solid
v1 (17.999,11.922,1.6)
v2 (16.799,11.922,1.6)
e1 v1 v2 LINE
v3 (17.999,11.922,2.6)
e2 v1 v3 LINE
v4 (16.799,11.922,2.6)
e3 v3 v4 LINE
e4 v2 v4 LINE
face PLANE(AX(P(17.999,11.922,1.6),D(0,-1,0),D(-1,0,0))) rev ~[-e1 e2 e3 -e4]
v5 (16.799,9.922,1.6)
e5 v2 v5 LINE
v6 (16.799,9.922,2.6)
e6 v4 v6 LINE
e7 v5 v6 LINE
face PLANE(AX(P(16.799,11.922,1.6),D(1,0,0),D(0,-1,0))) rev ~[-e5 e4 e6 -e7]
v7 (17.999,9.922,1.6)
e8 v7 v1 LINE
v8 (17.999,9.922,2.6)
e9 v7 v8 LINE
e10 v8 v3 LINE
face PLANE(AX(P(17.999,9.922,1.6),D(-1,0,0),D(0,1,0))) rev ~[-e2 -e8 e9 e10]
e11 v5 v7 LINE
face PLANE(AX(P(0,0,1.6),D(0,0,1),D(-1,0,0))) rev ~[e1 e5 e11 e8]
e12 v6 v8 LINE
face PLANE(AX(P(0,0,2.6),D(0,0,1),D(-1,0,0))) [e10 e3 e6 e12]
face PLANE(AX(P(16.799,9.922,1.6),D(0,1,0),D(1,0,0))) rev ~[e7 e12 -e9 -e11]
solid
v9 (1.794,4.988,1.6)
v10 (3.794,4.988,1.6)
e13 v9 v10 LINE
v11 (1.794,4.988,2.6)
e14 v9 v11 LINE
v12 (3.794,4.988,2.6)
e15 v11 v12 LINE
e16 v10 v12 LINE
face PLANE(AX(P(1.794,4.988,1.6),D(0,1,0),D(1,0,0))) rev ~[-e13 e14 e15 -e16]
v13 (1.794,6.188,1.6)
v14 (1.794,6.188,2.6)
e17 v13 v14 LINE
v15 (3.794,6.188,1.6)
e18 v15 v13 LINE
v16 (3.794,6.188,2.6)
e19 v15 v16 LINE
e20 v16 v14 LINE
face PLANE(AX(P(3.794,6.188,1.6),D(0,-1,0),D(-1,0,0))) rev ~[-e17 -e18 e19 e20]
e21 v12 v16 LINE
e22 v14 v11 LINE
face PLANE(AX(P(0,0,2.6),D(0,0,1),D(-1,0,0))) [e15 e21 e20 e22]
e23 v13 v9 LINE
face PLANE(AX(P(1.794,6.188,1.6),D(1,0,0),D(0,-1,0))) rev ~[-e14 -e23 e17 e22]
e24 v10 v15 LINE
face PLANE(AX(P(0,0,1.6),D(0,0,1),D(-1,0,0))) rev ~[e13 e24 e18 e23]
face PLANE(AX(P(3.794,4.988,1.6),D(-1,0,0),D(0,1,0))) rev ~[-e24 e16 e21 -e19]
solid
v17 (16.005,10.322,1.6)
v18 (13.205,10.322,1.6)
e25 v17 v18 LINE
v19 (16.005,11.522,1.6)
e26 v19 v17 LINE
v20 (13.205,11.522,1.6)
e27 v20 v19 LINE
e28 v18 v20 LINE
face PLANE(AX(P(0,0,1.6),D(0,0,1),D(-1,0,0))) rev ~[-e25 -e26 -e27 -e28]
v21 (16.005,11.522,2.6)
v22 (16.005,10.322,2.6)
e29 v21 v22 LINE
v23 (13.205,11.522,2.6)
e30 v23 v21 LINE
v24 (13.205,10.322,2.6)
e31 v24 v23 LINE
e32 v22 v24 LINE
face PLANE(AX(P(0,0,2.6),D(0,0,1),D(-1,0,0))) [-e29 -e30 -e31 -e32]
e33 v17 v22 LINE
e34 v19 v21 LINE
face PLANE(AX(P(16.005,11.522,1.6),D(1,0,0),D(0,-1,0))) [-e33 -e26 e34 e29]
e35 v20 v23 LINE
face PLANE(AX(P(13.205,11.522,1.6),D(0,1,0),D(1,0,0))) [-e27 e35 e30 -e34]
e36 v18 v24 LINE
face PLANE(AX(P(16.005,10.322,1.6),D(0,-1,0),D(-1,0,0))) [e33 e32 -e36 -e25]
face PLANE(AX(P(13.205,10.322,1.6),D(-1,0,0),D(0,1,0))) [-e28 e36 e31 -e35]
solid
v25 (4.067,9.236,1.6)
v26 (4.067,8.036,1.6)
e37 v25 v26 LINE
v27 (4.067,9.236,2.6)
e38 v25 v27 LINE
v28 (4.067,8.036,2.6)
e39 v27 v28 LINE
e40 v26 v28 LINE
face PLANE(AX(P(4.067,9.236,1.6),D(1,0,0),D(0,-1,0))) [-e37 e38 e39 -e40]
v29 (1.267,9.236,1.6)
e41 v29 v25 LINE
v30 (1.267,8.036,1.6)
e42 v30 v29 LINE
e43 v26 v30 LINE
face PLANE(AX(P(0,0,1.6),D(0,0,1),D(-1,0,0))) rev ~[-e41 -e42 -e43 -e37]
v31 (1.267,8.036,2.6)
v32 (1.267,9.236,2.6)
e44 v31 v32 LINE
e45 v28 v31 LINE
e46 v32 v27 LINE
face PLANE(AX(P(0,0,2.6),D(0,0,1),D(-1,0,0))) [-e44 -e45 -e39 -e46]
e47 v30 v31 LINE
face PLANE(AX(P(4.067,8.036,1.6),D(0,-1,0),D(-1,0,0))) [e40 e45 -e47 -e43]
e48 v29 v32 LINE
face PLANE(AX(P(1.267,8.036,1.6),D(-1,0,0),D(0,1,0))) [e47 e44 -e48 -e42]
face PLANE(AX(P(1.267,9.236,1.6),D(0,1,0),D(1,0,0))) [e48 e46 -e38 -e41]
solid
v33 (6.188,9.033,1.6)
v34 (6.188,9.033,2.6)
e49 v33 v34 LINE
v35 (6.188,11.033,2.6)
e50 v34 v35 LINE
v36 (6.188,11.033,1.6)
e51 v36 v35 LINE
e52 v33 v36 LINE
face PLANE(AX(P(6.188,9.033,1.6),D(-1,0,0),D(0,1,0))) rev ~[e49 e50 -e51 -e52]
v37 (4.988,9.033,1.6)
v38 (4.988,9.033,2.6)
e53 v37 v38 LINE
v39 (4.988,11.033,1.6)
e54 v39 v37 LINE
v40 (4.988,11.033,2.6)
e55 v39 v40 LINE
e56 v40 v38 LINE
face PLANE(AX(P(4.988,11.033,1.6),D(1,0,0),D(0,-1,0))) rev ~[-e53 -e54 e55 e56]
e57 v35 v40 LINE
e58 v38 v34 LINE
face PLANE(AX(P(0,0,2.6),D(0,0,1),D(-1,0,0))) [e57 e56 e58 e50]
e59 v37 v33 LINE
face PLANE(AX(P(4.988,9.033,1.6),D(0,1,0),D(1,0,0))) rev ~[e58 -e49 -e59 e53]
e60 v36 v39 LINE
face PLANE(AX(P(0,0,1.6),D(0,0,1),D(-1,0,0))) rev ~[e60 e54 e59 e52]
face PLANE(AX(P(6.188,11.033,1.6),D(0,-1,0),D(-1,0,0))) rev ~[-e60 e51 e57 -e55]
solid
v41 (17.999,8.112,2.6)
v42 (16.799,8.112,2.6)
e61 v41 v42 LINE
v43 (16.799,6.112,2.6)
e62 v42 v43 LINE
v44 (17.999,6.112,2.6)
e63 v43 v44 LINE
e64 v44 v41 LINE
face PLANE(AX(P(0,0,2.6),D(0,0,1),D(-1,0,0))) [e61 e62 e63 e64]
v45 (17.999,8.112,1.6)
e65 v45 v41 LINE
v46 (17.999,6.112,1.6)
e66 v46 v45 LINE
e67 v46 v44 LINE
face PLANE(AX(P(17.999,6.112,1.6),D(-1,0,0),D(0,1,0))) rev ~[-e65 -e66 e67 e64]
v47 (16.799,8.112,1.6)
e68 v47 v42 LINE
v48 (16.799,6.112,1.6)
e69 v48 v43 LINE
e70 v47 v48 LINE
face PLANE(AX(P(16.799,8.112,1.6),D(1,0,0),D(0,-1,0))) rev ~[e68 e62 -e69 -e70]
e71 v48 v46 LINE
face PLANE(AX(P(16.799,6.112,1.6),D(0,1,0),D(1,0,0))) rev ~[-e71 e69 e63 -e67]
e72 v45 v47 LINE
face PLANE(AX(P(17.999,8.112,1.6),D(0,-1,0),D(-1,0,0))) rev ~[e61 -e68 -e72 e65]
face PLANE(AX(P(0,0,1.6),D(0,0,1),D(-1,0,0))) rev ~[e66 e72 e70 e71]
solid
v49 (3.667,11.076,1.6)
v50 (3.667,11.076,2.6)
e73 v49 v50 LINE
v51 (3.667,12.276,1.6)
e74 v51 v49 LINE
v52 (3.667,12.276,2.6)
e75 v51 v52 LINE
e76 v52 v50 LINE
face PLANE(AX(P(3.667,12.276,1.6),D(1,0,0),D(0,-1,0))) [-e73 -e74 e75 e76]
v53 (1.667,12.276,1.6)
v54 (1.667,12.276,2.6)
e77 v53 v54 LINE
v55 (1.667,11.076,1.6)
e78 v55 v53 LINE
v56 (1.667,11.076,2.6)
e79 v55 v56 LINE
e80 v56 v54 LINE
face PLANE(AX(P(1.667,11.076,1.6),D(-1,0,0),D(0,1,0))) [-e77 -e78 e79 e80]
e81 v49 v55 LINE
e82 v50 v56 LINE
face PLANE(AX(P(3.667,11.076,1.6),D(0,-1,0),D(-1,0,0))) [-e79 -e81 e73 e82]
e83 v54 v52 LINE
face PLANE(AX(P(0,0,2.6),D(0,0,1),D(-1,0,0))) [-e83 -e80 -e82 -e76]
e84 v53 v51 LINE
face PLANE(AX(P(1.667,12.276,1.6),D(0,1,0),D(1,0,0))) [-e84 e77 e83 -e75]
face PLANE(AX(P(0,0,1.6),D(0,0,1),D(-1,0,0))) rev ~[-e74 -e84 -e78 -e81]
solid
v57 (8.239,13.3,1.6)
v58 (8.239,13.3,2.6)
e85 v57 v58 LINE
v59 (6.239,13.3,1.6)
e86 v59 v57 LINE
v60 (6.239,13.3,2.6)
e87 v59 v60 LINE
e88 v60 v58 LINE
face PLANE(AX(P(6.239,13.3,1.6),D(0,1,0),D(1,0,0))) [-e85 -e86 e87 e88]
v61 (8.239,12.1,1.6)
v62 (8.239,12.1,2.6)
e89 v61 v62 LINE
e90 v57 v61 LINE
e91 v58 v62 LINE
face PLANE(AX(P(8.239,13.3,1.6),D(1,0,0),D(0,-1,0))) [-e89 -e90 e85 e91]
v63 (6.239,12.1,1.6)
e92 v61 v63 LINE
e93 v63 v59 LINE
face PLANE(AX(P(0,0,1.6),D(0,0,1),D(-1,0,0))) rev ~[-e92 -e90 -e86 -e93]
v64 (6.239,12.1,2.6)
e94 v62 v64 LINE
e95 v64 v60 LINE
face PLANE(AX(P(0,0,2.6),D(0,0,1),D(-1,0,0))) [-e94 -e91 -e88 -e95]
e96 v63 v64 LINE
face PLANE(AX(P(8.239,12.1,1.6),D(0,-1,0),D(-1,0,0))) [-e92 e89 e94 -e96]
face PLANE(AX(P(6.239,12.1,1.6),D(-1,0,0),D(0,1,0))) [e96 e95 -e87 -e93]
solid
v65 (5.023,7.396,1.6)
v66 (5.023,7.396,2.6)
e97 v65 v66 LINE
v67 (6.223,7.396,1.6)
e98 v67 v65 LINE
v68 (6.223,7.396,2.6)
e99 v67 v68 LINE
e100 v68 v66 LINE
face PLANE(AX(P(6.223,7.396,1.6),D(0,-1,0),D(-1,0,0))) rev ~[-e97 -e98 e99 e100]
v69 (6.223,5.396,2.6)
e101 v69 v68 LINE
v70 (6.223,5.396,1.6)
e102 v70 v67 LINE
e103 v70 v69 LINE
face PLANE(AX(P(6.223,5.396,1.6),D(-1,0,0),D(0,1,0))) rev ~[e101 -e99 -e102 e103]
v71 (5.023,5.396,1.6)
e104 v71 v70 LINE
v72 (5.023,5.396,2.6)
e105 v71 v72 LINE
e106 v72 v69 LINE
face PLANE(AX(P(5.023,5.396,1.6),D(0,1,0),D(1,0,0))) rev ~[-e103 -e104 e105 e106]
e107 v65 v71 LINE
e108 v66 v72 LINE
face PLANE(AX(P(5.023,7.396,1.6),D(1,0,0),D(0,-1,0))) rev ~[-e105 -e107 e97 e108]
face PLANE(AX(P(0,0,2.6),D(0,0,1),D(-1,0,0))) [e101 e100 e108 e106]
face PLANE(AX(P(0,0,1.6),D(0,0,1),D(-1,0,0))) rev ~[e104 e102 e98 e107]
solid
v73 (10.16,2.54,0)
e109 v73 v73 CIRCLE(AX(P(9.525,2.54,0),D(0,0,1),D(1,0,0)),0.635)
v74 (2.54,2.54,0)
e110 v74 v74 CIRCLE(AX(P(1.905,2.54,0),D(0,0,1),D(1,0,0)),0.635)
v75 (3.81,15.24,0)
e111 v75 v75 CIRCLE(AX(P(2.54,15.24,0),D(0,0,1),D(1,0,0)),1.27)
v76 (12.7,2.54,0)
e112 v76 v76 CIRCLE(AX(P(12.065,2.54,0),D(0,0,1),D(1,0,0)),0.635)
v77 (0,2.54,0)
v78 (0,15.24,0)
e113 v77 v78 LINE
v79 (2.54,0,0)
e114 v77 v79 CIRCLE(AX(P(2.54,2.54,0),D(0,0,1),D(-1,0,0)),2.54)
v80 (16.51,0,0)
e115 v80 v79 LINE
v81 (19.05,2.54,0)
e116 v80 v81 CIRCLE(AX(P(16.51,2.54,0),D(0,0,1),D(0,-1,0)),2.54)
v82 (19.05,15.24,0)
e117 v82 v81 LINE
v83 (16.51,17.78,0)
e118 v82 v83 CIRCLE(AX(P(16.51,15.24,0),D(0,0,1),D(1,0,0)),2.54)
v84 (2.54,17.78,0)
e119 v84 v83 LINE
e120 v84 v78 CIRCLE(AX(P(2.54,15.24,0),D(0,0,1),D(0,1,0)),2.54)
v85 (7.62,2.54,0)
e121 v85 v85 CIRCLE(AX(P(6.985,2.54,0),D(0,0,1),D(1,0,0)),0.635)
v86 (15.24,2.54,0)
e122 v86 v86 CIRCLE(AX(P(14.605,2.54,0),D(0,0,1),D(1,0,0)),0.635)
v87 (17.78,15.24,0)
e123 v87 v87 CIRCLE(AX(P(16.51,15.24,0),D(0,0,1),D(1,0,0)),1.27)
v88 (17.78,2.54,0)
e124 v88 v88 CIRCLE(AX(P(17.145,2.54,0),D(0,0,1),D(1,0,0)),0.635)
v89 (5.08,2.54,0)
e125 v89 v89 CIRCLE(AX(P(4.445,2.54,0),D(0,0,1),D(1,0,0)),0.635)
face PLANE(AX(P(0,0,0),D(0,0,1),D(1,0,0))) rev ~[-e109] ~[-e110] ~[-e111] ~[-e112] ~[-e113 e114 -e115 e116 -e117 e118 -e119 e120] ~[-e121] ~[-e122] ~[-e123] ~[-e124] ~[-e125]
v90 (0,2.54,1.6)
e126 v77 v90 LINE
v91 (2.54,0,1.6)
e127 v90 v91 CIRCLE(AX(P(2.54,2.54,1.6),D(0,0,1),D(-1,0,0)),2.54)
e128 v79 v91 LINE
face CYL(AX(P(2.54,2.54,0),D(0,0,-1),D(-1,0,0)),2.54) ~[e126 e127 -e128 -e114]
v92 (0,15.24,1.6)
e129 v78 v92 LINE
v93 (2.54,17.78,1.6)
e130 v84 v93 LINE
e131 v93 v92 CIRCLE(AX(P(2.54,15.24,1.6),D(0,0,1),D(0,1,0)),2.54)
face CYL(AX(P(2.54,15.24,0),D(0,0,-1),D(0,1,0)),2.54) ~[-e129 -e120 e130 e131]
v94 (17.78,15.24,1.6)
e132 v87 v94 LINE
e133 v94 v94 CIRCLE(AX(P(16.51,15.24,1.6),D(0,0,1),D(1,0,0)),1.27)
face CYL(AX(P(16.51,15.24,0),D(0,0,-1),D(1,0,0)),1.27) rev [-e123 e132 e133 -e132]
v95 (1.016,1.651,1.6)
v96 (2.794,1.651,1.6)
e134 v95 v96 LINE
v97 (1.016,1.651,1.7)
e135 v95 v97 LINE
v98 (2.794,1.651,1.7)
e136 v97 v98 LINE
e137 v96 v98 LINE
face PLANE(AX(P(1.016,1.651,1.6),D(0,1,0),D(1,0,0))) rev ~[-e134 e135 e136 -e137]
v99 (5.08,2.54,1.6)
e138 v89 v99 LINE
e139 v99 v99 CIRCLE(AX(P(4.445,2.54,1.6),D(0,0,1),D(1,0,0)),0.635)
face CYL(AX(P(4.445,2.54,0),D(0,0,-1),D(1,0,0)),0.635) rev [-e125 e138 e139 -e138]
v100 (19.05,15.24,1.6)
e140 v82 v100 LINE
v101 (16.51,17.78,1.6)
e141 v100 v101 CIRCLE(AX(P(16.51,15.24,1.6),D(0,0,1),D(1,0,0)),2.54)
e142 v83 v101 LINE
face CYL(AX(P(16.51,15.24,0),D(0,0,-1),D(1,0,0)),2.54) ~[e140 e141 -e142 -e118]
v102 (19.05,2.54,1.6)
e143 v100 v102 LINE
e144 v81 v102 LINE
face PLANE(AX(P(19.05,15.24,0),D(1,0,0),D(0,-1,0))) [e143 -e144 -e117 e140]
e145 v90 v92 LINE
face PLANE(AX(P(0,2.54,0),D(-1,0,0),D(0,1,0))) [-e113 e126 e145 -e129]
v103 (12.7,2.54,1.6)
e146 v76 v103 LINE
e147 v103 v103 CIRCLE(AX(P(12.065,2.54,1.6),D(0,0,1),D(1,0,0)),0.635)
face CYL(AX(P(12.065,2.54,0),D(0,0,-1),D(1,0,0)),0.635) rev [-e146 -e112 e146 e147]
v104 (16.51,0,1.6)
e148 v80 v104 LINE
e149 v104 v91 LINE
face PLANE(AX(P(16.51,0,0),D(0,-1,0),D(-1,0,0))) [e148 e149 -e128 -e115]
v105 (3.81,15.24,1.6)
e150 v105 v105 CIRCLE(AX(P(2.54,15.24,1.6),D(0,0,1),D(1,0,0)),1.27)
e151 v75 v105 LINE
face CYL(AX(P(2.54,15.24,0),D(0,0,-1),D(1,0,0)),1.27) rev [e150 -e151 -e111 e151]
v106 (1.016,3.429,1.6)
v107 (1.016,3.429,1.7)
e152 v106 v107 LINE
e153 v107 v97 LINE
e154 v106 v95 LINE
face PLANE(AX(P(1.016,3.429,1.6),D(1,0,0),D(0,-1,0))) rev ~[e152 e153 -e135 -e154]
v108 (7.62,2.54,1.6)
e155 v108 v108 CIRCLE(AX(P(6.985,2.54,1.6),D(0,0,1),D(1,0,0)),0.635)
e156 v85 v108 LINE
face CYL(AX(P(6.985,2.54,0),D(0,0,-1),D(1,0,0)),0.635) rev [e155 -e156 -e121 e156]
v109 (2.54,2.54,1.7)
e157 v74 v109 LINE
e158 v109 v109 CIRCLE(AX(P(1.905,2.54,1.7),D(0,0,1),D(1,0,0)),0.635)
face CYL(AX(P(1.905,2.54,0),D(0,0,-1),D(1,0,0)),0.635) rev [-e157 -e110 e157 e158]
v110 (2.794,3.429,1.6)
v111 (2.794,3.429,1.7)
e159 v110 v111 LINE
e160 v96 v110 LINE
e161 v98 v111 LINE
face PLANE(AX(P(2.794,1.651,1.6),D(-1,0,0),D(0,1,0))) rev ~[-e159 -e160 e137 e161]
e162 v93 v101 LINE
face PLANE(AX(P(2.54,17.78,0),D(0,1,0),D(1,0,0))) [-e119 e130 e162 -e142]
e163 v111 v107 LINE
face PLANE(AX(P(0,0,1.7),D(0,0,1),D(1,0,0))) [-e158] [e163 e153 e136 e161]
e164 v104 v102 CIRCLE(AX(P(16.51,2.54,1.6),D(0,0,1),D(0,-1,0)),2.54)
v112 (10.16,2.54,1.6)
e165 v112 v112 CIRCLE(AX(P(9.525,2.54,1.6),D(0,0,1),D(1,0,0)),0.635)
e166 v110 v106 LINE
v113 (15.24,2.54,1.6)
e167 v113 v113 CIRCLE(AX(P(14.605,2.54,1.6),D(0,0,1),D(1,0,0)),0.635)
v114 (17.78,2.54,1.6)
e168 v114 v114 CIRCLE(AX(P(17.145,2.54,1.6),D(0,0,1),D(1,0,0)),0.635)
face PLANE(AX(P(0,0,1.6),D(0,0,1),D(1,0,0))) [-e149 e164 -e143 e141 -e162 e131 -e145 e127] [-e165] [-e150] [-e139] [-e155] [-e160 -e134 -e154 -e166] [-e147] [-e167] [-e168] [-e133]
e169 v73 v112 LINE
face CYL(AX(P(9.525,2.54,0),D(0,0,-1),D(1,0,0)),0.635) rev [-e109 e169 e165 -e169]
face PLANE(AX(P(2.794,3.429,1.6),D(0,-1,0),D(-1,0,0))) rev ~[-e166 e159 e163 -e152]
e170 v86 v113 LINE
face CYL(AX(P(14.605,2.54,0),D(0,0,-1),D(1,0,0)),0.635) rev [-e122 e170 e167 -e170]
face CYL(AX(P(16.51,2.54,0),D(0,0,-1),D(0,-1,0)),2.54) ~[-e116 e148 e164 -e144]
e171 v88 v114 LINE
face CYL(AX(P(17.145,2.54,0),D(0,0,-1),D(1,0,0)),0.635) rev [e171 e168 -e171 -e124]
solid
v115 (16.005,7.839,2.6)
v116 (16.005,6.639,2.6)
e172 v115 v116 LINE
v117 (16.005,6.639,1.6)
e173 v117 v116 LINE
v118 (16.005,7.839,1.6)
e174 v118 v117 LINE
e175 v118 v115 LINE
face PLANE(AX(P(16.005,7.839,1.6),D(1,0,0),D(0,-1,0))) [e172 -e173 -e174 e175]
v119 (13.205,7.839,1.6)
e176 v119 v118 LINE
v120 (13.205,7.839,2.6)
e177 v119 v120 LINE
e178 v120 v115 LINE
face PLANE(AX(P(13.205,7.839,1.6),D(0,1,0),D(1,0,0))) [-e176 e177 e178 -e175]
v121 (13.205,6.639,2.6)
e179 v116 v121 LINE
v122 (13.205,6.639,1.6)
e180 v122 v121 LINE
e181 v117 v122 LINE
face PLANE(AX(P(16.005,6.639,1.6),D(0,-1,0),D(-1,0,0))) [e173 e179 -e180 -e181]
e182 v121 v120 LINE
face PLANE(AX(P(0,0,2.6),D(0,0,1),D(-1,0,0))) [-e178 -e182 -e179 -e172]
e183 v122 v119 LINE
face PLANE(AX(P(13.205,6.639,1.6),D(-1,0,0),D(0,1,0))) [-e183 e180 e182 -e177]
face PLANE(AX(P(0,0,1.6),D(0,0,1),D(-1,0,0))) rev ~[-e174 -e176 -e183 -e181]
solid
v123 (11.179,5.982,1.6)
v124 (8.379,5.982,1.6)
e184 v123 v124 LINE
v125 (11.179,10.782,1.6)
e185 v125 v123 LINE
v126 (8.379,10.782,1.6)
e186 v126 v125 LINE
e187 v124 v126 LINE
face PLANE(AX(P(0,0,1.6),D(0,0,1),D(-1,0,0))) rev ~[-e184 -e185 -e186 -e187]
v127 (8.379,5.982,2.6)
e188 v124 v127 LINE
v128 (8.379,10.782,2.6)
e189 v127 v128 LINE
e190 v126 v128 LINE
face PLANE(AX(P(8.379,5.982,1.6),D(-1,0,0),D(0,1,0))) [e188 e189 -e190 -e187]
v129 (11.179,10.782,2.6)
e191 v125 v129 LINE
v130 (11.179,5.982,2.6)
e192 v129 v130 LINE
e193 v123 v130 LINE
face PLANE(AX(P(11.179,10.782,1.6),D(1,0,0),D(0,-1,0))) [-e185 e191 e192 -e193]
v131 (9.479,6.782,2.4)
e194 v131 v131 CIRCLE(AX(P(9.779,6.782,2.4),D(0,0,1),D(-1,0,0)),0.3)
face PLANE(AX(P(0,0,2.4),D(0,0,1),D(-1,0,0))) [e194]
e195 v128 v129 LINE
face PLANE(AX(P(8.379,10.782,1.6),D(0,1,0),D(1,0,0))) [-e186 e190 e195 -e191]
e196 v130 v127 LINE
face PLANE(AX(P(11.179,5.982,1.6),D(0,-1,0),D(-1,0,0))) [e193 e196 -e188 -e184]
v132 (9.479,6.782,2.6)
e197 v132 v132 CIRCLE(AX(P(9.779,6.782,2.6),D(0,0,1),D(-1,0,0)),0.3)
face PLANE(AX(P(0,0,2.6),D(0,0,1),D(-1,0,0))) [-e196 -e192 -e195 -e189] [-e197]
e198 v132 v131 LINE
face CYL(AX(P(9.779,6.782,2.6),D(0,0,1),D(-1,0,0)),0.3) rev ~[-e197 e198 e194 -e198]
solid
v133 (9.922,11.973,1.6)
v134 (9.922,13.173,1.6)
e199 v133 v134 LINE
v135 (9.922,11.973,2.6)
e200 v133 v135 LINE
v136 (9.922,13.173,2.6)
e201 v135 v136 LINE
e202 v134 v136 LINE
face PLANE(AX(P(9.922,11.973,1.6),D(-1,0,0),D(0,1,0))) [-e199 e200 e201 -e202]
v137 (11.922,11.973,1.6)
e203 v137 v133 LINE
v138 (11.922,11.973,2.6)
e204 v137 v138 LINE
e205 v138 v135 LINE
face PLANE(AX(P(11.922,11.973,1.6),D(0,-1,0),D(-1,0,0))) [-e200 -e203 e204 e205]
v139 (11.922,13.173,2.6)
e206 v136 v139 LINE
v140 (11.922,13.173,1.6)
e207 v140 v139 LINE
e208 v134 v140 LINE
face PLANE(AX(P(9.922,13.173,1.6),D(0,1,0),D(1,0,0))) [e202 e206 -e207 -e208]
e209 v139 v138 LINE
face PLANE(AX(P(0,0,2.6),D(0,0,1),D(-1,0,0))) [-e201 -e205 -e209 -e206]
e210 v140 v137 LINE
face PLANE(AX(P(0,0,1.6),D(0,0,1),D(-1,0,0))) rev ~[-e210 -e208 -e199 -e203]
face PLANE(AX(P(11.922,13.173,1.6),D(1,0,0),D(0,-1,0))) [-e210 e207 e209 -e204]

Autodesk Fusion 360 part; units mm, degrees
sketch "MPL3115A2_v0.2" plane through (0, 0, 0) normal (0, 0, 1) x (1, 0, 0)
  arc A0 (16.51, 0) -> (19.05, 2.54) centre (16.51, 2.54) ccw
  arc A1 (2.54, 17.78) -> (0, 15.24) centre (2.54, 15.24) ccw
  line L0 (19.05, 15.24) -> (19.05, 2.54)
  arc A2 (0, 2.54) -> (2.54, 0) centre (2.54, 2.54) ccw
  arc A3 (19.05, 15.24) -> (16.51, 17.78) centre (16.51, 15.24) ccw
  line L1 (2.54, 17.78) -> (16.51, 17.78)
  line L2 (0, 2.54) -> (0, 15.24)
  line L3 (16.51, 0) -> (2.54, 0)
  line L4 (1.016, 3.429) -> (1.016, 1.651)
  line L5 (1.016, 1.651) -> (2.794, 1.651)
  line L6 (2.794, 1.651) -> (2.794, 3.429)
  line L7 (1.016, 3.429) -> (1.016, 1.651)
  line L8 (1.016, 1.651) -> (2.794, 1.651)
  line L9 (2.794, 3.429) -> (1.016, 3.429)
  line L10 (2.794, 1.651) -> (2.794, 3.429)
  line L11 (2.794, 3.429) -> (1.016, 3.429)
  circle A4 centre (1.905, 2.54) radius 0.635
  circle A5 centre (4.445, 2.54) radius 0.635
  circle A6 centre (6.985, 2.54) radius 0.635
  circle A7 centre (9.525, 2.54) radius 0.635
  circle A8 centre (12.065, 2.54) radius 0.635
  circle A9 centre (14.605, 2.54) radius 0.635
  circle A10 centre (17.145, 2.54) radius 0.635
  circle A11 centre (2.54, 15.24) radius 1.27
  circle A12 centre (16.51, 15.24) radius 1.27
  dimension "d2" = 1.27
  dimension "d5" = 2.54
  dimension "d6" = 0
  dimension "d7" = 2.54
  dimension "d8" = 2.54
extrude "Extrude1" add sketch "MPL3115A2_v0.2" along normal blind 1.6 contours A0 A1 L0 A2 A3 L1 L2 L3 | L4 L5 L6 L7 L8 L9 L10 L11 makes body 1
extrude "Extrude2" add sketch "MPL3115A2_v0.2" along normal blind 0.1 from surface at 1.6 contours L4 L5 L6 L7 L8 L9 L10 L11 bodies 1
sketch "Sketch2" plane through (0, 0, 1.6) normal (0, 0, 1) x (-1, 0, 0)
  line L0 (-2.794, -1.651) -> (-1.016, -1.651)
  line L1 (-1.016, -1.651) -> (-1.016, -3.429)
  line L2 (-1.016, -3.429) -> (-2.794, -3.429)
  line L3 (-2.794, -3.429) -> (-2.794, -1.651)
  circle A0 centre (-17.145, -2.54) radius 0.635
  circle A1 centre (-16.51, -15.24) radius 1.27
  circle A2 centre (-9.525, -2.54) radius 0.635
  circle A3 centre (-12.065, -2.54) radius 0.635
  circle A4 centre (-2.54, -15.24) radius 1.27
  circle A5 centre (-4.445, -2.54) radius 0.635
  circle A6 centre (-14.605, -2.54) radius 0.635
  circle A7 centre (-6.985, -2.54) radius 0.635
  arc A8 (-19.05, -15.24) -> (-16.51, -17.78) centre (-16.51, -15.24) ccw
  line L4 (-16.51, -17.78) -> (-2.54, -17.78)
  arc A9 (-2.54, -17.78) -> (0, -15.24) centre (-2.54, -15.24) ccw
  line L5 (0, -15.24) -> (0, -2.54)
  arc A10 (0, -2.54) -> (-2.54, 0) centre (-2.54, -2.54) ccw
  line L6 (-2.54, 0) -> (-16.51, 0)
  arc A11 (-16.51, 0) -> (-19.05, -2.54) centre (-16.51, -2.54) ccw
  line L7 (-19.05, -2.54) -> (-19.05, -15.24)
  line L8 (-11.179, -5.982) -> (-8.379, -5.982)
  line L9 (-8.379, -5.982) -> (-8.379, -10.782)
  line L10 (-8.379, -10.782) -> (-11.179, -10.782)
  line L11 (-11.179, -10.782) -> (-11.179, -5.982)
  line L12 (-11.179, -5.982) -> (-8.379, -10.782) construction
  line L13 (-8.379, -5.982) -> (-11.179, -10.782) construction
  line L14 (-4.067, -8.036) -> (-1.267, -8.036)
  line L15 (-1.267, -8.036) -> (-1.267, -9.236)
  line L16 (-1.267, -9.236) -> (-4.067, -9.236)
  line L17 (-4.067, -9.236) -> (-4.067, -8.036)
  line L18 (-4.067, -8.036) -> (-1.267, -9.236) construction
  line L19 (-1.267, -8.036) -> (-4.067, -9.236) construction
  line L20 (-1.794, -4.988) -> (-3.794, -4.988)
  line L21 (-3.794, -4.988) -> (-3.794, -6.188)
  line L22 (-3.794, -6.188) -> (-1.794, -6.188)
  line L23 (-1.794, -6.188) -> (-1.794, -4.988)
  line L24 (-1.794, -4.988) -> (-3.794, -6.188) construction
  line L25 (-3.794, -4.988) -> (-1.794, -6.188) construction
  line L26 (-3.667, -11.076) -> (-1.667, -11.076)
  line L27 (-1.667, -11.076) -> (-1.667, -12.276)
  line L28 (-1.667, -12.276) -> (-3.667, -12.276)
  line L29 (-3.667, -12.276) -> (-3.667, -11.076)
  line L30 (-3.667, -11.076) -> (-1.667, -12.276) construction
  line L31 (-1.667, -11.076) -> (-3.667, -12.276) construction
  line L32 (-8.239, -12.1) -> (-6.239, -12.1)
  line L33 (-6.239, -12.1) -> (-6.239, -13.3)
  line L34 (-6.239, -13.3) -> (-8.239, -13.3)
  line L35 (-8.239, -13.3) -> (-8.239, -12.1)
  line L36 (-8.239, -12.1) -> (-6.239, -13.3) construction
  line L37 (-6.239, -12.1) -> (-8.239, -13.3) construction
  line L38 (-11.922, -11.973) -> (-9.922, -11.973)
  line L39 (-9.922, -11.973) -> (-9.922, -13.173)
  line L40 (-9.922, -13.173) -> (-11.922, -13.173)
  line L41 (-11.922, -13.173) -> (-11.922, -11.973)
  line L42 (-11.922, -11.973) -> (-9.922, -13.173) construction
  line L43 (-9.922, -11.973) -> (-11.922, -13.173) construction
  line L44 (-16.005, -10.322) -> (-13.205, -10.322)
  line L45 (-13.205, -10.322) -> (-13.205, -11.522)
  line L46 (-13.205, -11.522) -> (-16.005, -11.522)
  line L47 (-16.005, -11.522) -> (-16.005, -10.322)
  line L48 (-16.005, -10.322) -> (-13.205, -11.522) construction
  line L49 (-13.205, -10.322) -> (-16.005, -11.522) construction
  line L50 (-16.005, -6.639) -> (-13.205, -6.639)
  line L51 (-13.205, -6.639) -> (-13.205, -7.839)
  line L52 (-13.205, -7.839) -> (-16.005, -7.839)
  line L53 (-16.005, -7.839) -> (-16.005, -6.639)
  line L54 (-16.005, -6.639) -> (-13.205, -7.839) construction
  line L55 (-13.205, -6.639) -> (-16.005, -7.839) construction
  line L56 (-16.799, -9.922) -> (-17.999, -9.922)
  line L57 (-17.999, -9.922) -> (-17.999, -11.922)
  line L58 (-17.999, -11.922) -> (-16.799, -11.922)
  line L59 (-16.799, -11.922) -> (-16.799, -9.922)
  line L60 (-16.799, -9.922) -> (-17.999, -11.922) construction
  line L61 (-17.999, -9.922) -> (-16.799, -11.922) construction
  line L62 (-16.799, -6.112) -> (-17.999, -6.112)
  line L63 (-17.999, -6.112) -> (-17.999, -8.112)
  line L64 (-17.999, -8.112) -> (-16.799, -8.112)
  line L65 (-16.799, -8.112) -> (-16.799, -6.112)
  line L66 (-16.799, -6.112) -> (-17.999, -8.112) construction
  line L67 (-17.999, -6.112) -> (-16.799, -8.112) construction
  line L68 (-4.988, -9.033) -> (-6.188, -9.033)
  line L69 (-6.188, -9.033) -> (-6.188, -11.033)
  line L70 (-6.188, -11.033) -> (-4.988, -11.033)
  line L71 (-4.988, -11.033) -> (-4.988, -9.033)
  line L72 (-4.988, -9.033) -> (-6.188, -11.033) construction
  line L73 (-6.188, -9.033) -> (-4.988, -11.033) construction
  line L74 (-5.023, -5.396) -> (-6.223, -5.396)
  line L75 (-6.223, -5.396) -> (-6.223, -7.396)
  line L76 (-6.223, -7.396) -> (-5.023, -7.396)
  line L77 (-5.023, -7.396) -> (-5.023, -5.396)
  line L78 (-5.023, -5.396) -> (-6.223, -7.396) construction
  line L79 (-6.223, -5.396) -> (-5.023, -7.396) construction
  point P0 (-9.779, -8.382)
  point P1 (-2.667, -8.636)
  point P2 (-2.794, -5.588)
  point P3 (-2.667, -11.676)
  point P4 (-7.239, -12.7)
  point P5 (-10.922, -12.573)
  point P6 (-14.605, -10.922)
  point P7 (-14.605, -7.239)
  point P8 (-17.399, -10.922)
  point P9 (-17.399, -7.112)
  point P10 (-5.588, -10.033)
  point P11 (-5.623, -6.396)
  dimension "d19" = 4.8
  dimension "d20" = 2.8
  dimension "d21" = 8.382
  dimension "d22" = 9.779
  dimension "d23" = 2.8
  dimension "d24" = 1.2
  dimension "d25" = 2.667
  dimension "d26" = 8.636
  dimension "d27" = 2
  dimension "d28" = 1.2
  dimension "d29" = 2.794
  dimension "d30" = 5.588
  dimension "d31" = 2
  dimension "d32" = 1.2
  dimension "d33" = 2.667
  dimension "d34" = 11.676
  dimension "d35" = 2
  dimension "d36" = 1.2
  dimension "d37" = 12.7
  dimension "d38" = 7.239
  dimension "d39" = 1.2
  dimension "d40" = 2
  dimension "d41" = 12.573
  dimension "d42" = 10.922
  dimension "d43" = 2.8
  dimension "d44" = 1.2
  dimension "d45" = 2.8
  dimension "d46" = 1.2
  dimension "d47" = 2
  dimension "d48" = 1.2
  dimension "d49" = 2
  dimension "d50" = 1.2
  dimension "d51" = 10.922
  dimension "d52" = 14.605
  dimension "d53" = 7.239
  dimension "d54" = 14.605
  dimension "d55" = 10.922
  dimension "d56" = 17.399
  dimension "d57" = 7.112
  dimension "d58" = 17.399
  dimension "d66" = 2
  dimension "d67" = 1.2
  dimension "d68" = 2
  dimension "d69" = 1.2
  dimension "d70" = 5.588
  dimension "d71" = 10.033
  dimension "d72" = 5.623
  dimension "d73" = 6.396
extrude "Extrude3" add sketch "Sketch2" along normal blind 1 separate body contours L8 L9 L10 L11 | L14 L15 L16 L17 | L20 L21 L22 L23 | L26 L27 L28 L29 | L32 L33 L34 L35 | L38 L39 L40 L41 | L44 L45 L46 L47 | L50 L51 L52 L53 | L56 L57 L58 L59 | L62 L63 L64 L65 | L68 L69 L70 L71 | L74 L75 L76 L77 makes body 2 at (17.199, 7.4453, 1.6) makes body 3 at (11.2553, 12.773, 1.6) makes body 4 at (3.1273, 5.388, 1.6) makes body 5 at (3.1337, 8.436, 1.6) makes body 6 at (15.0717, 10.722, 1.6) makes body 7 at (5.823, 6.0627, 1.6) makes body 8 at (15.0717, 7.039, 1.6) makes body 9 at (7.5723, 12.5, 1.6) makes body 10 at (10.2457, 7.582, 1.6) makes body 11 at (3.0003, 11.876, 1.6) makes body 12 at (17.199, 11.2553, 1.6) makes body 13 at (5.788, 9.6997, 1.6)
sketch "Sketch3" plane through (0, 0, 2.6) normal (0, 0, 1) x (-1, 0, 0)
  line L0 (-11.179, -10.782) -> (-8.379, -10.782)
  line L1 (-8.379, -10.782) -> (-8.379, -5.982)
  line L2 (-8.379, -5.982) -> (-11.179, -5.982)
  line L3 (-11.179, -5.982) -> (-11.179, -10.782)
  circle A0 centre (-9.779, -6.782) radius 0.3
  dimension "d61" = 0.6
  dimension "d65" = 0.8
extrude "Extrude4" cut sketch "Sketch3" against normal blind 0.2 contours A0 bodies 8 4 1 6 2 12 11 5 3 9 10
